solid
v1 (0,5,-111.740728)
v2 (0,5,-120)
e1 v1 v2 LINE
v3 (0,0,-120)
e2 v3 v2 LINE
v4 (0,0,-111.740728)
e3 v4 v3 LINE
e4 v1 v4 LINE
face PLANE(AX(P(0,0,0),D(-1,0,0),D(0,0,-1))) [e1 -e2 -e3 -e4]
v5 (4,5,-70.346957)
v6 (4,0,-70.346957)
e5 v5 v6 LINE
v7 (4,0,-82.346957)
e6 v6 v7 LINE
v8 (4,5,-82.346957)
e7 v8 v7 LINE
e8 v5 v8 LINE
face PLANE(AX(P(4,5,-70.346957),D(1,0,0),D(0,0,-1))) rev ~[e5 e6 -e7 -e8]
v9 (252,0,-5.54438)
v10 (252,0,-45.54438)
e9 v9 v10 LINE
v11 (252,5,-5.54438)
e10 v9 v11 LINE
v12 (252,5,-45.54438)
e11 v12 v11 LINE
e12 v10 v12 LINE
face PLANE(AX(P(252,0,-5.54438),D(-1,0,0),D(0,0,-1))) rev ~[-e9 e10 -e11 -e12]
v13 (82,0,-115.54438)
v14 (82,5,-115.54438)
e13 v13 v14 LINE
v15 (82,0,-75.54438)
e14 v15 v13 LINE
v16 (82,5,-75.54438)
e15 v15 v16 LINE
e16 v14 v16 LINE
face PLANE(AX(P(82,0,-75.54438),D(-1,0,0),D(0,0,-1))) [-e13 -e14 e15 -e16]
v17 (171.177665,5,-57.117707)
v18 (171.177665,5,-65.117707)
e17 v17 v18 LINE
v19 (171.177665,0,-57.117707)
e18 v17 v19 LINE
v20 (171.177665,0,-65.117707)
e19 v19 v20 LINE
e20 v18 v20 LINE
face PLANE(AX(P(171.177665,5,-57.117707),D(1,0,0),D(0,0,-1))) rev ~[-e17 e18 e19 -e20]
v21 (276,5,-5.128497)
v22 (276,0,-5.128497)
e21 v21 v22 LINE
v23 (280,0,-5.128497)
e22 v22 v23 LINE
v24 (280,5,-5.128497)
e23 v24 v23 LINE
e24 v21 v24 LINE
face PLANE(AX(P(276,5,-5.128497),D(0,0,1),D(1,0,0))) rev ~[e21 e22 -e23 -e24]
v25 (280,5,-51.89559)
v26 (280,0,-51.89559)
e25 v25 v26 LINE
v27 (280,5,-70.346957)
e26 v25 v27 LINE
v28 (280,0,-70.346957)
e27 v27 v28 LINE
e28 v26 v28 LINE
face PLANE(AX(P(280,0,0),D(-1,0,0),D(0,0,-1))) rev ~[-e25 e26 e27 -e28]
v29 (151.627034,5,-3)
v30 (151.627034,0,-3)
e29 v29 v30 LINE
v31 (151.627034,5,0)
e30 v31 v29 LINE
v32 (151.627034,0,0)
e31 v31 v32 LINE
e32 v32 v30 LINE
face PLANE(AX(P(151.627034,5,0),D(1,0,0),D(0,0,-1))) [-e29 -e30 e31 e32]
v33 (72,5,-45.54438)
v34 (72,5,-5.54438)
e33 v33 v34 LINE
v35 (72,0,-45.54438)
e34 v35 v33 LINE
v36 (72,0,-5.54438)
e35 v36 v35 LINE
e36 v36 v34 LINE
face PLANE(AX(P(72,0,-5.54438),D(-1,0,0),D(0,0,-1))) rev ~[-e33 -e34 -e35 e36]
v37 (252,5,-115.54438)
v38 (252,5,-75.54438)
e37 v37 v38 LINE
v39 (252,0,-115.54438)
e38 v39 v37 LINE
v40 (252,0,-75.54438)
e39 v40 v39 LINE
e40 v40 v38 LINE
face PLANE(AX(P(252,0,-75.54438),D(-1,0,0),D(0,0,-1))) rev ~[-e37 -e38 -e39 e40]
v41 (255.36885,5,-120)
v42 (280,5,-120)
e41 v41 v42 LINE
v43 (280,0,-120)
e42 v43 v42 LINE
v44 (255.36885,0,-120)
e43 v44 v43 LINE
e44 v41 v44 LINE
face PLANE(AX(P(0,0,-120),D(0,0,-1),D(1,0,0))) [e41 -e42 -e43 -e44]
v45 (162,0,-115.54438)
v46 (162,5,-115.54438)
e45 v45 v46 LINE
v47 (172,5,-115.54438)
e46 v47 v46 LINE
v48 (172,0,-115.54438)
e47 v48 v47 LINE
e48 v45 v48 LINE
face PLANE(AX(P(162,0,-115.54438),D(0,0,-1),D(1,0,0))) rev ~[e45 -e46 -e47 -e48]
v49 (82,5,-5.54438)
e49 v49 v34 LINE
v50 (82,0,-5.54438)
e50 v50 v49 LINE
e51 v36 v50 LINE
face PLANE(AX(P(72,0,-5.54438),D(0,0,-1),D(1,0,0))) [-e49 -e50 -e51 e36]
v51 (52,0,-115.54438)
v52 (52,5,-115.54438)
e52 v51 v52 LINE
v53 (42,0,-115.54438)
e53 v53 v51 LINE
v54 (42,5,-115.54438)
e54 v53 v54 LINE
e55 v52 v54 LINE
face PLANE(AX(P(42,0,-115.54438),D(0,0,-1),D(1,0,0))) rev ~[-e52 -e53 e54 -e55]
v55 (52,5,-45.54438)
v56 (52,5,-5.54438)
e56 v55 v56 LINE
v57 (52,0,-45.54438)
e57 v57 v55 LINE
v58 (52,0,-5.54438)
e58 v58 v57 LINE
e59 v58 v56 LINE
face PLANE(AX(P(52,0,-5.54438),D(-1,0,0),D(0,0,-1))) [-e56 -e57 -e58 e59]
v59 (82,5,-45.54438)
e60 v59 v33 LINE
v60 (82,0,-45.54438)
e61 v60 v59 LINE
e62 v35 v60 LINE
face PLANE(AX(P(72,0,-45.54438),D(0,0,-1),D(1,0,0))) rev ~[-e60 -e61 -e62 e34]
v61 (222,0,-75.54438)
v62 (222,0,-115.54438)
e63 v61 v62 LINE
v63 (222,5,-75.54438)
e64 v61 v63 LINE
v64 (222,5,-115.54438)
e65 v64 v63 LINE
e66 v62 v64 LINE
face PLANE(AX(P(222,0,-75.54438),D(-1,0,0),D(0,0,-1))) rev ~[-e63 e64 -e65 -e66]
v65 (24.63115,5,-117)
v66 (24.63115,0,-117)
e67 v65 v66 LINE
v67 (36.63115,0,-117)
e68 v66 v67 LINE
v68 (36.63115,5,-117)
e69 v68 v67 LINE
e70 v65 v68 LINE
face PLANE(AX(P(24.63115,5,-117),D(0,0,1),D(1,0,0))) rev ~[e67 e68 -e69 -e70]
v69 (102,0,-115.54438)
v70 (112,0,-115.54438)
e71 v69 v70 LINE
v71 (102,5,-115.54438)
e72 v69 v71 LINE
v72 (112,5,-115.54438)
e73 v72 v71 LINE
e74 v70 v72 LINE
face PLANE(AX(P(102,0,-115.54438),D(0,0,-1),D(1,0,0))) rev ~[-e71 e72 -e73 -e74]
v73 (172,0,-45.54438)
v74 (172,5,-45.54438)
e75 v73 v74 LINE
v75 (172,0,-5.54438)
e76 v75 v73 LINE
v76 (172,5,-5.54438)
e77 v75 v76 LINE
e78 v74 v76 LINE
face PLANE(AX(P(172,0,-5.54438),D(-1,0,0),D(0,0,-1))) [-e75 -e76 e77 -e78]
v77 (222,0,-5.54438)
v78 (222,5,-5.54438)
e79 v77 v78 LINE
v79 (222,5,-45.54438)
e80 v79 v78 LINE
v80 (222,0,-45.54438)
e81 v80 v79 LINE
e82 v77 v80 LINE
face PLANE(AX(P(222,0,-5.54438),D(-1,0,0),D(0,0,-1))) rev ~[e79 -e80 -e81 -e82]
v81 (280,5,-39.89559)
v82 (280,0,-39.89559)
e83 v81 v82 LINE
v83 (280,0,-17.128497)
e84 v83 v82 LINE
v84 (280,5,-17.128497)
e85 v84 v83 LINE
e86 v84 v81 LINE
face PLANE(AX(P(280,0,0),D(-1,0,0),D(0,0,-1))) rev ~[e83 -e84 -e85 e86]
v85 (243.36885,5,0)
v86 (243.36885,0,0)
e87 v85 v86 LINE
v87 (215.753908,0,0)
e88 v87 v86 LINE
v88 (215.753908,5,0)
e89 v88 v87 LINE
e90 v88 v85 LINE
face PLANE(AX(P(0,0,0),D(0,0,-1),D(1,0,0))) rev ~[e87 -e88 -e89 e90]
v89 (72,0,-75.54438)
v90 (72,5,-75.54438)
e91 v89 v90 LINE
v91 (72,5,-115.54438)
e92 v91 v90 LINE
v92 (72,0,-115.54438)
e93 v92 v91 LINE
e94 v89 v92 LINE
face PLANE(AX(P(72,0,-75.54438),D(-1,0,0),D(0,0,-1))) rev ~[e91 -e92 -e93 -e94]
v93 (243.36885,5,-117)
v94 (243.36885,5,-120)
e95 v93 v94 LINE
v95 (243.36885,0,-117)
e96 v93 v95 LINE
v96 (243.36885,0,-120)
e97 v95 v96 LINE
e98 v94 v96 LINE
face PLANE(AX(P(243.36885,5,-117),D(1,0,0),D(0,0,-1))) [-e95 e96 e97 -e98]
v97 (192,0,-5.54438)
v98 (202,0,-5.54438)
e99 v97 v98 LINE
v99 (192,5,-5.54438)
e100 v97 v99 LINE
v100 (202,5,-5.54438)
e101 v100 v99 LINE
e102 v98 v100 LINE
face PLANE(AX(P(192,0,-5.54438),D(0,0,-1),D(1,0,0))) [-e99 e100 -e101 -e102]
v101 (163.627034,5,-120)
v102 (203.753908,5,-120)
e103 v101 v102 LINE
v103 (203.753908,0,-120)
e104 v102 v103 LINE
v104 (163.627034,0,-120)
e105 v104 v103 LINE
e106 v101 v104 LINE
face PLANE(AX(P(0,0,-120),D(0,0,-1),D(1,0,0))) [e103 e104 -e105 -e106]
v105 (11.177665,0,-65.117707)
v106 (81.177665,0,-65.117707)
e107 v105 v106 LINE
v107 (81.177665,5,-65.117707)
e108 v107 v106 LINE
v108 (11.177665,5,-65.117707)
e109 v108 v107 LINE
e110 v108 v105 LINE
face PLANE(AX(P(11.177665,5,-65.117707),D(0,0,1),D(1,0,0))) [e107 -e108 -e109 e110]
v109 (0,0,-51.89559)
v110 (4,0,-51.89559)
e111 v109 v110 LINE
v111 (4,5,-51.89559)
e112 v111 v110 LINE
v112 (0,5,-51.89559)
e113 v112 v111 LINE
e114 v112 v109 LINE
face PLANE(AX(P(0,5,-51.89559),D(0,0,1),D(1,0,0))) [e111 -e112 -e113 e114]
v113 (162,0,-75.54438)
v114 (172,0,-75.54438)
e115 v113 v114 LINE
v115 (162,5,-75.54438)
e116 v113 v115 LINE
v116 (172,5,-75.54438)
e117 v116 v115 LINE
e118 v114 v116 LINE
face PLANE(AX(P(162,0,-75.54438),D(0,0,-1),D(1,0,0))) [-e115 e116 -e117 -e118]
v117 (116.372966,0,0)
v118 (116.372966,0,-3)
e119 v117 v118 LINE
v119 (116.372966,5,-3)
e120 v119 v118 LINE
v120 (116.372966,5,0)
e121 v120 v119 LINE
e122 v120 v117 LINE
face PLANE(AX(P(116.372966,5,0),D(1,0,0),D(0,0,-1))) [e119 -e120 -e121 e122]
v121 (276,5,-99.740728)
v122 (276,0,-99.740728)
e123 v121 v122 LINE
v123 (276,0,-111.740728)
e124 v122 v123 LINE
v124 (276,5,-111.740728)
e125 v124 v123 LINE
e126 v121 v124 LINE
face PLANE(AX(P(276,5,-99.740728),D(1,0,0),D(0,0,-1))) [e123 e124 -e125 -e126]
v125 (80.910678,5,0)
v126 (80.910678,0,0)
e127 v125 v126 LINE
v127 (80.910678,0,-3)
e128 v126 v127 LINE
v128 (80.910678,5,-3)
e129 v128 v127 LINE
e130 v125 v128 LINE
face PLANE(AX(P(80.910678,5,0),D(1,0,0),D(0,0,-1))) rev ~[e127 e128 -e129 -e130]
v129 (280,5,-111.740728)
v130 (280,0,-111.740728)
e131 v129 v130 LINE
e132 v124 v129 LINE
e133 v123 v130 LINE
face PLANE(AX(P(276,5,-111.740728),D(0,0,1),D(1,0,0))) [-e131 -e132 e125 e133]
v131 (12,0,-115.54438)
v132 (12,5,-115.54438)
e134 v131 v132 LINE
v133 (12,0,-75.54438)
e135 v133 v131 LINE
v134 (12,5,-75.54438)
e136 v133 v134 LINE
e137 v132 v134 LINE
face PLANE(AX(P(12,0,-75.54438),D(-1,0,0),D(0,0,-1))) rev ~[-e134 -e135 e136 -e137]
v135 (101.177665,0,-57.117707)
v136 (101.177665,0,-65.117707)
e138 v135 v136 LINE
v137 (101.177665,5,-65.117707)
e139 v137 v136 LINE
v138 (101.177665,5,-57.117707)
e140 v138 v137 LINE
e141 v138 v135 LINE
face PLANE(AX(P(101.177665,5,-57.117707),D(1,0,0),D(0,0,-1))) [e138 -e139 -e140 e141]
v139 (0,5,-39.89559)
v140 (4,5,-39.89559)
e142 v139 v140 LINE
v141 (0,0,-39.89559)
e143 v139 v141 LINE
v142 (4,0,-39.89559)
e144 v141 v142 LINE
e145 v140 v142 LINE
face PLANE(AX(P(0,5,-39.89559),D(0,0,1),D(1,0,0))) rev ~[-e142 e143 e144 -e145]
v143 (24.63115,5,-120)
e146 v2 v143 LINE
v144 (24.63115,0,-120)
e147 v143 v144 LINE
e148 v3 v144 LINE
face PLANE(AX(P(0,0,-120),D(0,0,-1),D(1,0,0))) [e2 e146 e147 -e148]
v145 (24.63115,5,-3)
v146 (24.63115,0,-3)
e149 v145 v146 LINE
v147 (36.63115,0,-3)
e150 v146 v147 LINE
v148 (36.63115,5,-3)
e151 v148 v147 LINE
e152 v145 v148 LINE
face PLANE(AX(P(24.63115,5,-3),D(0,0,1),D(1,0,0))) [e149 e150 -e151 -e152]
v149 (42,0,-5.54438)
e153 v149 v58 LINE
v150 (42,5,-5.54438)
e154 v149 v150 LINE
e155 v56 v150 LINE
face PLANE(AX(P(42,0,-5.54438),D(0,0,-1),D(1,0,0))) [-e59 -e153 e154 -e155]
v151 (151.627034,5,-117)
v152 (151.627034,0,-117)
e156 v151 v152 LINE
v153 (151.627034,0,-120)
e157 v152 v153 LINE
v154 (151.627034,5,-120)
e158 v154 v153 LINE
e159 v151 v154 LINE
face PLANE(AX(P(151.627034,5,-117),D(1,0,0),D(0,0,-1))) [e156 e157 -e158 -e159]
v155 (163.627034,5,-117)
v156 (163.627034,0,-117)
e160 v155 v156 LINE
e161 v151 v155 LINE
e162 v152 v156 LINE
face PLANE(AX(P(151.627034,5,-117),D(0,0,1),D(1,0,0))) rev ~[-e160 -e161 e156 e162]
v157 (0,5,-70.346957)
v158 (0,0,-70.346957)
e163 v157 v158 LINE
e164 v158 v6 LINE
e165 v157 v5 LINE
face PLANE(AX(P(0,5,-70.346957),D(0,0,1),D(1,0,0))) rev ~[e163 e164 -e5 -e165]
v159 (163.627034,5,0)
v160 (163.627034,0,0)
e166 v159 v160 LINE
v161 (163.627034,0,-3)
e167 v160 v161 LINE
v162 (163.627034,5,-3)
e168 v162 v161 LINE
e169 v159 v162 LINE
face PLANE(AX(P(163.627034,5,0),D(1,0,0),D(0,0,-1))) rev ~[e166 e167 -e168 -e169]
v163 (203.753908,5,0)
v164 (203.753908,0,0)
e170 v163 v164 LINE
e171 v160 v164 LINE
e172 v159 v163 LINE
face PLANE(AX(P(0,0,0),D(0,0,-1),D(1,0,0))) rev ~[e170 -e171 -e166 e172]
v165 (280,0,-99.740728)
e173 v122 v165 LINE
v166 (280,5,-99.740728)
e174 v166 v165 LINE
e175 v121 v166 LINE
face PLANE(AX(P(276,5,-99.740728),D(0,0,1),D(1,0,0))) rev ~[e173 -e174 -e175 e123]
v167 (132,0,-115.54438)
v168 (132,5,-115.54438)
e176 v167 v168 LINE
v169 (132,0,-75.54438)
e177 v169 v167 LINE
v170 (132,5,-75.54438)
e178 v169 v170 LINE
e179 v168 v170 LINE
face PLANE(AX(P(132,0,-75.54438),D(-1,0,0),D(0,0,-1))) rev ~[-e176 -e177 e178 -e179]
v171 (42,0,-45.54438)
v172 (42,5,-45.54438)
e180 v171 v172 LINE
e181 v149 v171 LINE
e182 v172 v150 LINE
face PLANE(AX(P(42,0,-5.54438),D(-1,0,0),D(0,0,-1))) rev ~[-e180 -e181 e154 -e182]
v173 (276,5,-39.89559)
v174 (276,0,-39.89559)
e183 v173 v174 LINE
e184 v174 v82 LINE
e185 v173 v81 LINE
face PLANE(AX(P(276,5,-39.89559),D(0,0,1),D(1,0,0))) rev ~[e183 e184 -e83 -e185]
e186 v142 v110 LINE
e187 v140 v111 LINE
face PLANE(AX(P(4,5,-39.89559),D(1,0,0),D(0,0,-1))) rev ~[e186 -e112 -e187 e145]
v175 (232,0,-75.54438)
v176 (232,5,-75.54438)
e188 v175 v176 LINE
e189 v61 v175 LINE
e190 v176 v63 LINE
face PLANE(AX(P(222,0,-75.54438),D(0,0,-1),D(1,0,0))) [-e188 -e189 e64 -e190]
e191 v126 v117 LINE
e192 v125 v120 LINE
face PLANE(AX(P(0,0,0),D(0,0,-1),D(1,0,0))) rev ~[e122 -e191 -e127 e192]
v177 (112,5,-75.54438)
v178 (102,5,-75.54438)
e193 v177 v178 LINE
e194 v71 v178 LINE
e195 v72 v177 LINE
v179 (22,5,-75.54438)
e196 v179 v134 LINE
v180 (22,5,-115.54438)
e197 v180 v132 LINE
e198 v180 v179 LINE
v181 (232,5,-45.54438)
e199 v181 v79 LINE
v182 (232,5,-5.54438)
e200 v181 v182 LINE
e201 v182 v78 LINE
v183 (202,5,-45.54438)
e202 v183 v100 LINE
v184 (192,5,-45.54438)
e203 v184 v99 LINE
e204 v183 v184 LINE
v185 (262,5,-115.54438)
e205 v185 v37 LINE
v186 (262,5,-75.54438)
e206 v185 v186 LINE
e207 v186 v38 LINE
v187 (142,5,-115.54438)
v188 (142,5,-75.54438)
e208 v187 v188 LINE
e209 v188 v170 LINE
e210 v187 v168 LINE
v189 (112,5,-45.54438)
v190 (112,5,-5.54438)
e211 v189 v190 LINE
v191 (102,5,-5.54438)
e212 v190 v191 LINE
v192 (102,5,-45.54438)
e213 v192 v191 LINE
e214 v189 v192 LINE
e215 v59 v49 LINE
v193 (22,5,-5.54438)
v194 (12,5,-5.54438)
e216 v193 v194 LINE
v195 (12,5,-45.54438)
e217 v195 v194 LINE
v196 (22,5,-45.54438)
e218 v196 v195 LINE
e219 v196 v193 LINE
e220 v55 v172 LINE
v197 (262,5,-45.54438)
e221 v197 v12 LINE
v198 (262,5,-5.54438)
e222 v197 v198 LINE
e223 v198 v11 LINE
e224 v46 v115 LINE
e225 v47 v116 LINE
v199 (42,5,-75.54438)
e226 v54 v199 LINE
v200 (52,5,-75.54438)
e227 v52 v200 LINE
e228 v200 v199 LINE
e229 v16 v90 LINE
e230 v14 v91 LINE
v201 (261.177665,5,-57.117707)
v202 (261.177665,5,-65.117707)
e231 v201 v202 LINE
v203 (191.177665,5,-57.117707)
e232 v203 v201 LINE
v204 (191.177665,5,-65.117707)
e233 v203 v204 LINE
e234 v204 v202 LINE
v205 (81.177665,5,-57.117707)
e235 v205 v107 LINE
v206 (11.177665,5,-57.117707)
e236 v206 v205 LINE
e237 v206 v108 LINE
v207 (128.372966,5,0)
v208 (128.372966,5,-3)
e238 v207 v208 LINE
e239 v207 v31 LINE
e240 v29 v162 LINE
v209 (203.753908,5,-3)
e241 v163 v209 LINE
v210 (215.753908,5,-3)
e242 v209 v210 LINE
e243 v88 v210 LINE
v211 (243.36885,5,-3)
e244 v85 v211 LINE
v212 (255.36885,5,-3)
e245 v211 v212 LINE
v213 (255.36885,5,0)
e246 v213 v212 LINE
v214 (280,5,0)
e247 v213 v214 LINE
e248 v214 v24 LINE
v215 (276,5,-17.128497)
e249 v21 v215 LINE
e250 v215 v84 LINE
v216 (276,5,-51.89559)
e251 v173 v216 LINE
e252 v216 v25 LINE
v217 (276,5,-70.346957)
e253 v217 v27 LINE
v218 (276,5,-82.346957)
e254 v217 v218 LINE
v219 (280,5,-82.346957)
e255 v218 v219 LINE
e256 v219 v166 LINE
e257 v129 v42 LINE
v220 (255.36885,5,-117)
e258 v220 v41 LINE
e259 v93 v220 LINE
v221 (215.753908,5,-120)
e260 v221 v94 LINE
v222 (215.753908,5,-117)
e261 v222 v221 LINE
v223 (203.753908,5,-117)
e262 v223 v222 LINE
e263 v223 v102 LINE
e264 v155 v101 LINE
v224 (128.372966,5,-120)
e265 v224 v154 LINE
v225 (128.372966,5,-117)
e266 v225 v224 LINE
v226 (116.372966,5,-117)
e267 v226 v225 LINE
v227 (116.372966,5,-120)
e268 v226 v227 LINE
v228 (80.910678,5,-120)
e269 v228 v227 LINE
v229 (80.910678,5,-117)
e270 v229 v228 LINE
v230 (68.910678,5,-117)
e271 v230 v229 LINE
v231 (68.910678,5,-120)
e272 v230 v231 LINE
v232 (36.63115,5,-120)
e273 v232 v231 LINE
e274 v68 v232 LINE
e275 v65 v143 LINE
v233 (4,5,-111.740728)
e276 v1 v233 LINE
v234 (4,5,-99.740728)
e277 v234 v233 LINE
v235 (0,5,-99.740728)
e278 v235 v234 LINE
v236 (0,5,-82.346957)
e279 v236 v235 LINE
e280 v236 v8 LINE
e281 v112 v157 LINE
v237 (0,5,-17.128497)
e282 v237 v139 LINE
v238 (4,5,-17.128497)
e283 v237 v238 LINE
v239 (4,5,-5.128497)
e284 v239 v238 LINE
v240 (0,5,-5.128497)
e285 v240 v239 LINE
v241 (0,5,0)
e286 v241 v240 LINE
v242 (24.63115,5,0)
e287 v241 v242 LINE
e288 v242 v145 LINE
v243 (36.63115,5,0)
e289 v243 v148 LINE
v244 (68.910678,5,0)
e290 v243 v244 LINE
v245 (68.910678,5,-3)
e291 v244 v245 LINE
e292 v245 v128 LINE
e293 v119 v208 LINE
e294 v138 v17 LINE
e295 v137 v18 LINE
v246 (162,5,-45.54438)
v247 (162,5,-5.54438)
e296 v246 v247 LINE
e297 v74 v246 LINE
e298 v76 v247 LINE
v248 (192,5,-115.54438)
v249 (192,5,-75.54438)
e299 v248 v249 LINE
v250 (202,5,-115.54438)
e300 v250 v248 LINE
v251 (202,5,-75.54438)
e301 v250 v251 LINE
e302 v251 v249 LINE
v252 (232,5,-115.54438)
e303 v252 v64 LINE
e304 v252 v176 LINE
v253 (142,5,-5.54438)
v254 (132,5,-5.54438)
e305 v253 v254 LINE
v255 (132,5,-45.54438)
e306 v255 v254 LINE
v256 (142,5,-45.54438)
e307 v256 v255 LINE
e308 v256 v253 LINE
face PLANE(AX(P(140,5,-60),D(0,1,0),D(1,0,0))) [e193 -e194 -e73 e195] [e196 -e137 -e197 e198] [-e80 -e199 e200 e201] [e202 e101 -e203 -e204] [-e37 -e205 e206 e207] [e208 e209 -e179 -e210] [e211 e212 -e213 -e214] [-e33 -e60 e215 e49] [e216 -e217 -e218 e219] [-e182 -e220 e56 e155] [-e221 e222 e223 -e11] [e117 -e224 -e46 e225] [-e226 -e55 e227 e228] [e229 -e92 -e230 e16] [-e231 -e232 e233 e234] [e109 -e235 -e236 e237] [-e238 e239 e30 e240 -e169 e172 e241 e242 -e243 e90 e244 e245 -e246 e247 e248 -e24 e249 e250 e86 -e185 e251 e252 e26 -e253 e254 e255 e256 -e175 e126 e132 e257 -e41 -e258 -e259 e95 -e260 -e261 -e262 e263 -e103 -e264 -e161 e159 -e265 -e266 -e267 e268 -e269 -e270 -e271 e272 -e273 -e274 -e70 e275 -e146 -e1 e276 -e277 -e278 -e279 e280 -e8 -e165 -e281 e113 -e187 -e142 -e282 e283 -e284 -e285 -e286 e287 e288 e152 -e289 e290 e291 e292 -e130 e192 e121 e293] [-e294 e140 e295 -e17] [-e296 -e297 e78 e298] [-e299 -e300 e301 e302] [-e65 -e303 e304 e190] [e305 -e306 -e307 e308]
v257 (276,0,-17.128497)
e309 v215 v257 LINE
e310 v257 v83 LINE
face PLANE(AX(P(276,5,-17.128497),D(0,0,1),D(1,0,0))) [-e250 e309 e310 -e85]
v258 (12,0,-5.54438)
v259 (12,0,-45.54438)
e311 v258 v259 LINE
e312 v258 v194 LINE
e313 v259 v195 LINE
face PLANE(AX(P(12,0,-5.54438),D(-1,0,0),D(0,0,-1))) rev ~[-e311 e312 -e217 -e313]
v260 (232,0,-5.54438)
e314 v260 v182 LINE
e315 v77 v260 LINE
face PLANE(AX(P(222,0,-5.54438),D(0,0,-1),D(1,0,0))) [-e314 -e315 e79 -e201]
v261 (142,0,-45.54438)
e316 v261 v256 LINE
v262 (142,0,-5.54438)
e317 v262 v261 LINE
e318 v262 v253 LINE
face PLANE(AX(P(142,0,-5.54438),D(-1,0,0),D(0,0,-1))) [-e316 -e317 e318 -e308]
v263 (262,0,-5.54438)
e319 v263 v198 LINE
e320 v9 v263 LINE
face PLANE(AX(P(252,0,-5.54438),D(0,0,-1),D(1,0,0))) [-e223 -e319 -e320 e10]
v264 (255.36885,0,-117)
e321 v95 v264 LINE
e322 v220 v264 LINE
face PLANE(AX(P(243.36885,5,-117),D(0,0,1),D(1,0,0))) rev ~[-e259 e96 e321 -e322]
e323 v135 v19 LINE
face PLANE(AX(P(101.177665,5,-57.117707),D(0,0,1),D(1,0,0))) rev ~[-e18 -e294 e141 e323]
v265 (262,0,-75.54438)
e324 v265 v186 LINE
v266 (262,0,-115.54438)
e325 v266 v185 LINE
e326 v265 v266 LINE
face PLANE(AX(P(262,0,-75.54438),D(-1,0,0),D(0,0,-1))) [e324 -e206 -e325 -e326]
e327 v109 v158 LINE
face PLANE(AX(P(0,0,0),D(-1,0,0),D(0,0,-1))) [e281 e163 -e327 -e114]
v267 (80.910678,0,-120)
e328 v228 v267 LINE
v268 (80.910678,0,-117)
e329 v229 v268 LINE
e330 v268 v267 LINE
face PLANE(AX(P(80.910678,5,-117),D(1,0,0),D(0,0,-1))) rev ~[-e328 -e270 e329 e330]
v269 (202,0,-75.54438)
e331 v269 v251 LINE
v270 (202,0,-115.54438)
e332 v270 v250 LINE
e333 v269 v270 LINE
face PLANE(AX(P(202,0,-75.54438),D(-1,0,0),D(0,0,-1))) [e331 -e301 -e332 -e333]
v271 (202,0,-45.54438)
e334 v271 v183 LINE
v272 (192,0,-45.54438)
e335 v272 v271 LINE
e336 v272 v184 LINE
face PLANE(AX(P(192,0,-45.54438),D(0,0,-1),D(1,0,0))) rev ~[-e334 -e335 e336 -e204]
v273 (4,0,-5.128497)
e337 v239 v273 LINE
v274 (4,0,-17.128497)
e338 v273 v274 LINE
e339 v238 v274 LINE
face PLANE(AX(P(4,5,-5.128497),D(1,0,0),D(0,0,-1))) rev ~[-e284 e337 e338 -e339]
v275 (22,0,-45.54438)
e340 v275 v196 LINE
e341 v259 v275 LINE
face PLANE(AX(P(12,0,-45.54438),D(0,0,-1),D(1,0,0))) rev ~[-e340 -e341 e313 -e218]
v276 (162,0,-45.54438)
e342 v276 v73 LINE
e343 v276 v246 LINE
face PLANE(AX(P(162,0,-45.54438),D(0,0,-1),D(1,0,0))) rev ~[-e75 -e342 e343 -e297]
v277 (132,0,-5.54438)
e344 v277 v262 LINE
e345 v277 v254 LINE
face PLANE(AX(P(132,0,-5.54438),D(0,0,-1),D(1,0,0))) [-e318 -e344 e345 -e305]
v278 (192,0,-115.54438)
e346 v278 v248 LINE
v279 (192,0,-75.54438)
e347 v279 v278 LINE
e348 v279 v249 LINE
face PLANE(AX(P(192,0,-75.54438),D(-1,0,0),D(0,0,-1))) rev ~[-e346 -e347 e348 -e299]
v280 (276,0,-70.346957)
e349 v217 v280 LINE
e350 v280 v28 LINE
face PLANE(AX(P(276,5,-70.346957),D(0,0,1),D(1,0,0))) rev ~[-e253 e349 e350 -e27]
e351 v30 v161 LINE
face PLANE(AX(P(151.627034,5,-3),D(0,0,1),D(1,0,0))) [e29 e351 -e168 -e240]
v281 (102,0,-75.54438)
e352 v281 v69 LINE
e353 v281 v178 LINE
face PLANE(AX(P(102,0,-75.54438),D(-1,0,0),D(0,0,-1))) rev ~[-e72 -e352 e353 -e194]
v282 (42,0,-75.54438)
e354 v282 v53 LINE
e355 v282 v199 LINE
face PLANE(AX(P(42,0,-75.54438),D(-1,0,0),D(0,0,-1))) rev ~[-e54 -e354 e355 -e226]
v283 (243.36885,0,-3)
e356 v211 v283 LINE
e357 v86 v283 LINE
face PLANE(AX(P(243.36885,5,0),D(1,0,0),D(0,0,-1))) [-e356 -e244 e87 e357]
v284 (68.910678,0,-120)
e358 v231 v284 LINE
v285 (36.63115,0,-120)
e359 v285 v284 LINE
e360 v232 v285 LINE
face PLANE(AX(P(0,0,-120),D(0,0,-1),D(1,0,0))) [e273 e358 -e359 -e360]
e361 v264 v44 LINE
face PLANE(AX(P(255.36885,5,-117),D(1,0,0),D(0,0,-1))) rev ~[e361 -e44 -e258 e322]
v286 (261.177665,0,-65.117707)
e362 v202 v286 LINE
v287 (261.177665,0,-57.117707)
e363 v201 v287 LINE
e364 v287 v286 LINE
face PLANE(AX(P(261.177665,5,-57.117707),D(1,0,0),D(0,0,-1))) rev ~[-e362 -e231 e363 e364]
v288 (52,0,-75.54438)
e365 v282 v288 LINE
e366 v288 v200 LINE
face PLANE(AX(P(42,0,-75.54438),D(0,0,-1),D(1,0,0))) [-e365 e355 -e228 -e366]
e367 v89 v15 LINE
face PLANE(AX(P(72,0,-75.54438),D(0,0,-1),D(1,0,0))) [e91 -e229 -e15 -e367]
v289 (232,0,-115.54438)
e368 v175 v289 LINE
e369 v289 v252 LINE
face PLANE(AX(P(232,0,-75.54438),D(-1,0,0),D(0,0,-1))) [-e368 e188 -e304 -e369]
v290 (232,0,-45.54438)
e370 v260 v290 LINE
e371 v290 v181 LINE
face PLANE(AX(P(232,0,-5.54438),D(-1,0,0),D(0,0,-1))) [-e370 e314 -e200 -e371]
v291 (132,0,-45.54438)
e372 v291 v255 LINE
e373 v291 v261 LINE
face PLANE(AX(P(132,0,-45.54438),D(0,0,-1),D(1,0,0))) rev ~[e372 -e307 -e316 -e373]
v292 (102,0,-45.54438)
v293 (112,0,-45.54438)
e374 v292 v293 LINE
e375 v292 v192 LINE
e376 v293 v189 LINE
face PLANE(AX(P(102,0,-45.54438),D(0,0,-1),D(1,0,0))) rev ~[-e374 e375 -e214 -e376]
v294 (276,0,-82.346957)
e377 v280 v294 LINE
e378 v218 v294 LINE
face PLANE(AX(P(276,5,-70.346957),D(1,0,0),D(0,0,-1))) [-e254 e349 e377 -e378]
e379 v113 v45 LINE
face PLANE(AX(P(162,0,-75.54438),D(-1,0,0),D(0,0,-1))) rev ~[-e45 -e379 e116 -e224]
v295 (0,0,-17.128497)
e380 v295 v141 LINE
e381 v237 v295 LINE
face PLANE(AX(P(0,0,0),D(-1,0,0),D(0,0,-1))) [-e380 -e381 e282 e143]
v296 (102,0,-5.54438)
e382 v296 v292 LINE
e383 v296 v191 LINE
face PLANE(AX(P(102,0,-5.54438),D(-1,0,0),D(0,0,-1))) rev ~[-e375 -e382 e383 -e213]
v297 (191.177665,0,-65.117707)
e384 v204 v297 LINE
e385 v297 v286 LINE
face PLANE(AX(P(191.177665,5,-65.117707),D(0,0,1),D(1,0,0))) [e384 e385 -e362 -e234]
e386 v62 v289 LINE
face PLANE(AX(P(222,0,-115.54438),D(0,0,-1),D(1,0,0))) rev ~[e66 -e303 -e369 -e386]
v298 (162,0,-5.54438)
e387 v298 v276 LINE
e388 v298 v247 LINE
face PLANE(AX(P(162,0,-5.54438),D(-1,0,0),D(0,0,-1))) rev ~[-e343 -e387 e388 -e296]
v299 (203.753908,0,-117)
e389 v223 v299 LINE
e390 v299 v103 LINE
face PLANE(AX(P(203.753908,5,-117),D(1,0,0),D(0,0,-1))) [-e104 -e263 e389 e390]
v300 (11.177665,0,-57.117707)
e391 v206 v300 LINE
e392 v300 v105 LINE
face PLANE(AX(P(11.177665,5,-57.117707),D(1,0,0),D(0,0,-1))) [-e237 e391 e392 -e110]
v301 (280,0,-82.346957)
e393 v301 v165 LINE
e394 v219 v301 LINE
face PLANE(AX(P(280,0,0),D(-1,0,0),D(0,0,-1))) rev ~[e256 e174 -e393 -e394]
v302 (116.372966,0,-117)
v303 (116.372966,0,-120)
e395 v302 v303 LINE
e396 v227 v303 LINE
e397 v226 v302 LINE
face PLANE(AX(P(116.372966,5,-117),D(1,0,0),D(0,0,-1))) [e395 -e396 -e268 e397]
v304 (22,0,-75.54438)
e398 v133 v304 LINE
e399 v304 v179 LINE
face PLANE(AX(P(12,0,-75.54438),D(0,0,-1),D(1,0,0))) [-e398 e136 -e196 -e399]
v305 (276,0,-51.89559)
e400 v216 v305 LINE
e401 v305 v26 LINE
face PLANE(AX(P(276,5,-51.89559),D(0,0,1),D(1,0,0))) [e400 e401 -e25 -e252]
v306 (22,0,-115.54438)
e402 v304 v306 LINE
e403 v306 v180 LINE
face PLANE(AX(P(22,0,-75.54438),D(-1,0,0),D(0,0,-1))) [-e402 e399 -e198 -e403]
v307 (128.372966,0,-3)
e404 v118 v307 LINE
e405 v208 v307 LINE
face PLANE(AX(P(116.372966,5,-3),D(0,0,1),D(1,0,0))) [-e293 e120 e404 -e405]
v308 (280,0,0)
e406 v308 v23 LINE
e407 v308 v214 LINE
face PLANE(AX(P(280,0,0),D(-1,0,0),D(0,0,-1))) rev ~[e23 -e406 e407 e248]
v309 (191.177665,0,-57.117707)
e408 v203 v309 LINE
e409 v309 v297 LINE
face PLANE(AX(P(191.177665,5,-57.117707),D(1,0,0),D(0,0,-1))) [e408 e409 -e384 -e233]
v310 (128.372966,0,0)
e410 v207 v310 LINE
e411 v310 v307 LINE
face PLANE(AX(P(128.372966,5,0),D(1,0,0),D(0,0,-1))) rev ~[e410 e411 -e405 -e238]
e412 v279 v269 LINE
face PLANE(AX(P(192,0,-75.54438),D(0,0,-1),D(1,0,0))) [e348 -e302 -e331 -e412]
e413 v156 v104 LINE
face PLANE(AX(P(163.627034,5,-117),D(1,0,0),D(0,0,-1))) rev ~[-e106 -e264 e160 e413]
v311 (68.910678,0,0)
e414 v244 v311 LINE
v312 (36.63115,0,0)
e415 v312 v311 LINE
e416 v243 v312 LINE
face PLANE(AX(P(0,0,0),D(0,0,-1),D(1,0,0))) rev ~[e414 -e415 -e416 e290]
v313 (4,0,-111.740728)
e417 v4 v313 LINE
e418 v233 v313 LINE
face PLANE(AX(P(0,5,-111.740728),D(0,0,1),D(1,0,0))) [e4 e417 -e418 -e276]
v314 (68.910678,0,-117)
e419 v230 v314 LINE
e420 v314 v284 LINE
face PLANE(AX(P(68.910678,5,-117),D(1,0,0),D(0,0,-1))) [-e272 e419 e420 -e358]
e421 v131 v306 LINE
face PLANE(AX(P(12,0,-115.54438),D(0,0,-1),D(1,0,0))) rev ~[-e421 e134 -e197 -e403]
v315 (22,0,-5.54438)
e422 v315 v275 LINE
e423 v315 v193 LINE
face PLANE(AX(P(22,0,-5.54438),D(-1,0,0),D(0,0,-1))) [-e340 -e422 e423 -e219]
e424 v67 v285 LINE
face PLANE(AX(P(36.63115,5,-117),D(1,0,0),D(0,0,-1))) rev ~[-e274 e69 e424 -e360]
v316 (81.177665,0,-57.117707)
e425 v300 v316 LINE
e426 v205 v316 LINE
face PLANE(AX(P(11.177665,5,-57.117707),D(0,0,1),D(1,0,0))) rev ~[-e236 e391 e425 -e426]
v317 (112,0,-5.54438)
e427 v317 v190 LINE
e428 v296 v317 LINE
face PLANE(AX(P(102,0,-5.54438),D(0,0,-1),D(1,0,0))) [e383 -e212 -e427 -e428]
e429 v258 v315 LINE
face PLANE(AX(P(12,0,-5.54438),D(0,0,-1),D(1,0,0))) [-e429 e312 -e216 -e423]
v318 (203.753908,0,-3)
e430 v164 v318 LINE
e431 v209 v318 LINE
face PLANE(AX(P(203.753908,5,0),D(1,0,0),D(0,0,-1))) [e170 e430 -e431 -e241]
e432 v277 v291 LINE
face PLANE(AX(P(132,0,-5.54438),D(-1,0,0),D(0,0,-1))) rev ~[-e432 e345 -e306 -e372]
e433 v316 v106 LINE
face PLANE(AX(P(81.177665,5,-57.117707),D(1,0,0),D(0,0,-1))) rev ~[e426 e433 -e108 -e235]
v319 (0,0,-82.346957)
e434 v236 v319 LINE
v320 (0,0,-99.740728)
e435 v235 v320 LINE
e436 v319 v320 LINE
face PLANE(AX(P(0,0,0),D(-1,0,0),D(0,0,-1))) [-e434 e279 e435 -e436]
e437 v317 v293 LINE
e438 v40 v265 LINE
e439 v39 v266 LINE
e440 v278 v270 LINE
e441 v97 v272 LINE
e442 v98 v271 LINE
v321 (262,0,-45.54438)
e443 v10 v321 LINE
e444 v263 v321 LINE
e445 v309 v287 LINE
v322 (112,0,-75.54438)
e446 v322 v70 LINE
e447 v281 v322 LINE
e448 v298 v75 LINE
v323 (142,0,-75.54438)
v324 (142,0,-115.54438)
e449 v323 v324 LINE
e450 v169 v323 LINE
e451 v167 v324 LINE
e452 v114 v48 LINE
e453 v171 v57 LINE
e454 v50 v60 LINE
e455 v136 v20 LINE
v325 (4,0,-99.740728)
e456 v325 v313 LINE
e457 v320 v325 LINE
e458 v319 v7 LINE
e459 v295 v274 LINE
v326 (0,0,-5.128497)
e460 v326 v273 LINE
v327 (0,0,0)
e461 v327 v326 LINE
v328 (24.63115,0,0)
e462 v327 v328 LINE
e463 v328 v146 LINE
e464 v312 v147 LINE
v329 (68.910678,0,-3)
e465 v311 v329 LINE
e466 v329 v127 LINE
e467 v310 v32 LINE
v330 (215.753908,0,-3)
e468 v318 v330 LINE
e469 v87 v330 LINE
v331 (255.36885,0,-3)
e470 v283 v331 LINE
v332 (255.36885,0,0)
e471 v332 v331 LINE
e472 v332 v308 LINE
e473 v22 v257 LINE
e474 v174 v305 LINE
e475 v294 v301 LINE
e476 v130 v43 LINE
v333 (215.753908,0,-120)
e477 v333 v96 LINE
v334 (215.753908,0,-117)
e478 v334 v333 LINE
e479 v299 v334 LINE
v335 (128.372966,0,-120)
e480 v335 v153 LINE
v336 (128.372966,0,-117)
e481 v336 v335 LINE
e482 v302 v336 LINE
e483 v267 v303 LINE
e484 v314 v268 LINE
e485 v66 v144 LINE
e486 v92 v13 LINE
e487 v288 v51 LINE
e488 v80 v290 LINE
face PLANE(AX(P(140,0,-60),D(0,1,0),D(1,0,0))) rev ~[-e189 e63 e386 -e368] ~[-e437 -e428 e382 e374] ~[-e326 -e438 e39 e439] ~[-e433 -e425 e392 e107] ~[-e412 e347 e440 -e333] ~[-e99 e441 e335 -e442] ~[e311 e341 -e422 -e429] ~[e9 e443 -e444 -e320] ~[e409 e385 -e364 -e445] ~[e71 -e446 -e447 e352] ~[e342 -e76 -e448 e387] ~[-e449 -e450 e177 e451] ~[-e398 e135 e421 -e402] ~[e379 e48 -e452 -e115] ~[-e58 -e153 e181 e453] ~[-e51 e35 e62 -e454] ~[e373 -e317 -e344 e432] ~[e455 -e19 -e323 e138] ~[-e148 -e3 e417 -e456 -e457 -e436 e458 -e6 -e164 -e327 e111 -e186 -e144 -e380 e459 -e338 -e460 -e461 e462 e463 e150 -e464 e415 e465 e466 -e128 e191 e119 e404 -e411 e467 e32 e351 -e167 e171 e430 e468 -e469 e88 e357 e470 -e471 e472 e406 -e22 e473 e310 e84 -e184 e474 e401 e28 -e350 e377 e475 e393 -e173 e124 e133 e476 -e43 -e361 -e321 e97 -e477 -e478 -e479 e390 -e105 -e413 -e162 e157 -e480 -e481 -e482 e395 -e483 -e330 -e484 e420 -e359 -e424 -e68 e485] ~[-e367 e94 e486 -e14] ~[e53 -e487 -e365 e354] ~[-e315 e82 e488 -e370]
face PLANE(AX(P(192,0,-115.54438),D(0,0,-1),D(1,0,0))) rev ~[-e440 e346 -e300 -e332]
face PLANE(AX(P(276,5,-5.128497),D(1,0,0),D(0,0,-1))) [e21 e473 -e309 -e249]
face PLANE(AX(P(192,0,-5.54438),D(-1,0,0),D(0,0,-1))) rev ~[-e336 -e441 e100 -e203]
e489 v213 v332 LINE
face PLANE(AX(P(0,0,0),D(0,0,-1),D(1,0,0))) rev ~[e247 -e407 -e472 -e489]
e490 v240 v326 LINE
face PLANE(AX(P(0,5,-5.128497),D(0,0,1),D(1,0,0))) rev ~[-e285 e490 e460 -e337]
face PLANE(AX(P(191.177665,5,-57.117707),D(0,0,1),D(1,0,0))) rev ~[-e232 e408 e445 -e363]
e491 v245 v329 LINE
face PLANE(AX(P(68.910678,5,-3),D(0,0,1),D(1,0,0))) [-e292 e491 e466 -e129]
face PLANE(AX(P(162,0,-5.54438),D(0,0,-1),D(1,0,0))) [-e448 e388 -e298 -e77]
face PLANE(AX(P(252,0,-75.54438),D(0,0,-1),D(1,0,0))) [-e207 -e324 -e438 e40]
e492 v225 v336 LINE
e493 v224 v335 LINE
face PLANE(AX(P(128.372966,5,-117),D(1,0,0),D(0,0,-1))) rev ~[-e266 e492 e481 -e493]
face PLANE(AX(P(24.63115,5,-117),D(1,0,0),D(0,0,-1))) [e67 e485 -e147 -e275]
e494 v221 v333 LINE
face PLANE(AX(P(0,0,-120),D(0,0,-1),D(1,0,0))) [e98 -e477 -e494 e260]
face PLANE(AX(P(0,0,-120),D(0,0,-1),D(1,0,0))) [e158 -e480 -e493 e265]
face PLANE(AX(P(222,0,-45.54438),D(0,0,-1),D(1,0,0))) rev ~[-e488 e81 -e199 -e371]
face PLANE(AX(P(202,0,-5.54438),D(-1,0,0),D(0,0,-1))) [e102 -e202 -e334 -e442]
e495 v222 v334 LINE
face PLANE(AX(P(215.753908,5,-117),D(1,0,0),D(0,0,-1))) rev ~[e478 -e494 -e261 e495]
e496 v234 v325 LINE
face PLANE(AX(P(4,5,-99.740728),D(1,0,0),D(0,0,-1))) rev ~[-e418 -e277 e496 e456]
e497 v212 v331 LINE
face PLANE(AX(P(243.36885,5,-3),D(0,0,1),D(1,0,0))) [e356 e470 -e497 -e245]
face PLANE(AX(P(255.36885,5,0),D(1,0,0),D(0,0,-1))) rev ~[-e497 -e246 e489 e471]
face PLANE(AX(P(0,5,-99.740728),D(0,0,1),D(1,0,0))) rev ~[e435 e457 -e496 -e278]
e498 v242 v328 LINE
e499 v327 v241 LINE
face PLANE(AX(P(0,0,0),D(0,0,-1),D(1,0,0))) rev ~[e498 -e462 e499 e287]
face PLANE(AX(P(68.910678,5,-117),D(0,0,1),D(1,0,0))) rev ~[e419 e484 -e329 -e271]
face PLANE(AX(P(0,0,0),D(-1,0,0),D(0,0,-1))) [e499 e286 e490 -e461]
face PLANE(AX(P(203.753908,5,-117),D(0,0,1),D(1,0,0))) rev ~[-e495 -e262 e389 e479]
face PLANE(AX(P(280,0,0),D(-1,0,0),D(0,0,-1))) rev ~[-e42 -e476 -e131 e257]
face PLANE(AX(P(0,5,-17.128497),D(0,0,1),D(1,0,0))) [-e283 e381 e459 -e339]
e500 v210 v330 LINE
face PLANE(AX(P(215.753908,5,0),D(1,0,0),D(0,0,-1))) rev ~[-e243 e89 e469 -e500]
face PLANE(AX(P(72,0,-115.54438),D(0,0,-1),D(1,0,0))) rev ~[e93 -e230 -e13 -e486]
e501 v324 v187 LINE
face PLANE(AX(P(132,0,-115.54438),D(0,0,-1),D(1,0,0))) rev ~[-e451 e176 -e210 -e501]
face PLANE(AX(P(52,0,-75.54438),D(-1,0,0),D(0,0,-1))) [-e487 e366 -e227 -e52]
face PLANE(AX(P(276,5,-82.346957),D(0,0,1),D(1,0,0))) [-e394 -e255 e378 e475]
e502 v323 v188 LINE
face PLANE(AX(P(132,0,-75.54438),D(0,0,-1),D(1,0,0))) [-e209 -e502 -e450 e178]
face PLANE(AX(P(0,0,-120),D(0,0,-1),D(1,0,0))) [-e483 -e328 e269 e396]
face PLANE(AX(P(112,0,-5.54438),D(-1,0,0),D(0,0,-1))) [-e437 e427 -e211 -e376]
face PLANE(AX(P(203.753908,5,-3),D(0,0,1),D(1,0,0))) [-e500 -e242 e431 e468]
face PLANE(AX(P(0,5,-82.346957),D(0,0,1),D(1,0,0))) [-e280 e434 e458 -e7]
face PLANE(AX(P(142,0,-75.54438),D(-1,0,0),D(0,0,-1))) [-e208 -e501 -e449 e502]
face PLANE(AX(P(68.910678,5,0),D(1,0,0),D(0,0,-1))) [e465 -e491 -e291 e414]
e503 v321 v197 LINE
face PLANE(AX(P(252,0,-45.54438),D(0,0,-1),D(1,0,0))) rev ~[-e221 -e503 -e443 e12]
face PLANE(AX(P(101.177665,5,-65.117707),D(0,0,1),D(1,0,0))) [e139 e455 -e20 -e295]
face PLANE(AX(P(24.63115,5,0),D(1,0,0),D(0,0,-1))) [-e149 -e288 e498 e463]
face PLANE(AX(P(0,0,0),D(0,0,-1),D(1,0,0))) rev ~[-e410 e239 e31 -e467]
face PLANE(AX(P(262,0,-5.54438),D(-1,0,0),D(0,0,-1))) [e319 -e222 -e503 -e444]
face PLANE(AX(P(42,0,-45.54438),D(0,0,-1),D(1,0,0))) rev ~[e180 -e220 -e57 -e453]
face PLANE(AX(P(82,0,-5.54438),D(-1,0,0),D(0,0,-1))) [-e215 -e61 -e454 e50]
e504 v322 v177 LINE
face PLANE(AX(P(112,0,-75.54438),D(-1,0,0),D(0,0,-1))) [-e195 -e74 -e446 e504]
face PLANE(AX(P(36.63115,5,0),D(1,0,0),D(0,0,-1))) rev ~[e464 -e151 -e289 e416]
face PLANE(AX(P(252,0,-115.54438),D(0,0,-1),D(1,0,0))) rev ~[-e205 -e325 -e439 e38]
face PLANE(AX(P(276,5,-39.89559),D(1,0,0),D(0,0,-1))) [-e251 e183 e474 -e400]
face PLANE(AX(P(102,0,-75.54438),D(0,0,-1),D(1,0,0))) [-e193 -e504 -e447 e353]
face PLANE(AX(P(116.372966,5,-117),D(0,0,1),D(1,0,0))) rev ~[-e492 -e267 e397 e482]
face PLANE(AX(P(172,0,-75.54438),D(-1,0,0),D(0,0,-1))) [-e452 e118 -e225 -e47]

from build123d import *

# Parameters (mm, degrees)
SKETCH1_W           = 280
SKETCH1_H           = 120
BOSS_EXTRUDE1_DEPTH = 5
SKETCH1_3_W         = 10
SKETCH1_3_H         = 40
CUT_EXTRUDE1_DEPTH  = 134
SKETCH1_4_W         = 10
SKETCH1_4_H         = 40
CUT_EXTRUDE2_DEPTH  = 229
SKETCH4_W           = 70
SKETCH4_H           = 8
CUT_EXTRUDE4_DEPTH  = 229
SKETCH3_W           = 4
SKETCH3_H           = 12
SKETCH3_W_2         = 12
SKETCH3_H_2         = 3
CUT_EXTRUDE5_DEPTH  = 10


with BuildPart() as part:
    # Sketch1 → Boss-Extrude1 (new body)
    with BuildSketch(Plane(origin=(0, 0, 0), x_dir=(1, 0, 0), z_dir=(0, 1, 0))):
        with Locations((140, 60)):
            Rectangle(SKETCH1_W, SKETCH1_H)
    extrude(amount=BOSS_EXTRUDE1_DEPTH)

    # Sketch1<3> → Cut-Extrude1 (cut)
    with BuildSketch(Plane(origin=(0, 0, 0), x_dir=(1, 0, 0), z_dir=(0, 1, 0))):
        with Locations((227, 95.54438009)):
            Rectangle(SKETCH1_3_W, SKETCH1_3_H)
        with Locations((227, 25.54438009)):
            Rectangle(SKETCH1_3_W, SKETCH1_3_H)
        with Locations((197, 25.54438009)):
            Rectangle(SKETCH1_3_W, SKETCH1_3_H)
        with Locations((167, 25.54438009)):
            Rectangle(SKETCH1_3_W, SKETCH1_3_H)
        with Locations((167, 95.54438009)):
            Rectangle(SKETCH1_3_W, SKETCH1_3_H)
        with Locations((137, 95.54438009)):
            Rectangle(SKETCH1_3_W, SKETCH1_3_H)
        with Locations((107, 95.54438009)):
            Rectangle(SKETCH1_3_W, SKETCH1_3_H)
        with Locations((107, 25.54438009)):
            Rectangle(SKETCH1_3_W, SKETCH1_3_H)
        with Locations((77, 25.54438009)):
            Rectangle(SKETCH1_3_W, SKETCH1_3_H)
        with Locations((47, 95.54438009)):
            Rectangle(SKETCH1_3_W, SKETCH1_3_H)
        with Locations((47, 25.54438009)):
            Rectangle(SKETCH1_3_W, SKETCH1_3_H)
        with Locations((257, 95.54438009)):
            Rectangle(SKETCH1_3_W, SKETCH1_3_H)
        with Locations((257, 25.54438009)):
            Rectangle(SKETCH1_3_W, SKETCH1_3_H)
        with Locations((197, 95.54438009)):
            Rectangle(SKETCH1_3_W, SKETCH1_3_H)
        with Locations((137, 25.54438009)):
            Rectangle(SKETCH1_3_W, SKETCH1_3_H)
        with Locations((77, 95.54438009)):
            Rectangle(SKETCH1_3_W, SKETCH1_3_H)
        with Locations((17, 25.54438009)):
            Rectangle(SKETCH1_3_W, SKETCH1_3_H)
    extrude(amount=CUT_EXTRUDE1_DEPTH, mode=Mode.SUBTRACT)

    # Sketch1<4> → Cut-Extrude2 (cut)
    with BuildSketch(Plane(origin=(0, 0, 0), x_dir=(1, 0, 0), z_dir=(0, 1, 0))):
        with Locations((17, 95.54438009)):
            Rectangle(SKETCH1_4_W, SKETCH1_4_H)
    extrude(amount=CUT_EXTRUDE2_DEPTH, mode=Mode.SUBTRACT)

    # Sketch4 → Cut-Extrude4 (cut)
    with BuildSketch(Plane(origin=(0, 5, 0), x_dir=(1, 0, 0), z_dir=(0, 1, 0))):
        with Locations((136.177664652, 61.117706899)):
            Rectangle(SKETCH4_W, SKETCH4_H)
        with Locations((46.177664652, 61.117706899)):
            Rectangle(SKETCH4_W, SKETCH4_H)
        with Locations((226.177664652, 61.117706899)):
            Rectangle(SKETCH4_W, SKETCH4_H)
    extrude(amount=-CUT_EXTRUDE4_DEPTH, mode=Mode.SUBTRACT)

    # Sketch3 → Cut-Extrude5 (cut)
    with BuildSketch(Plane(origin=(0, 5, 0), x_dir=(1, 0, 0), z_dir=(0, 1, 0))):
        with Locations((278, 11.128497482)):
            Rectangle(SKETCH3_W, SKETCH3_H)
        with Locations((30.63115044, 1.5)):
            Rectangle(SKETCH3_W_2, SKETCH3_H_2)
        with Locations((74.910678106, 1.5)):
            Rectangle(SKETCH3_W_2, SKETCH3_H_2)
        with Locations((122.372965913, 1.5)):
            Rectangle(SKETCH3_W_2, SKETCH3_H_2)
        with Locations((157.627034087, 1.5)):
            Rectangle(SKETCH3_W_2, SKETCH3_H_2)
        with Locations((209.75390842, 1.5)):
            Rectangle(SKETCH3_W_2, SKETCH3_H_2)
        with Locations((249.36884956, 1.5)):
            Rectangle(SKETCH3_W_2, SKETCH3_H_2)
        with Locations((278, 45.895590182)):
            Rectangle(SKETCH3_W, SKETCH3_H)
        with Locations((278, 105.740728373)):
            Rectangle(SKETCH3_W, SKETCH3_H)
        with Locations((278, 76.34695717)):
            Rectangle(SKETCH3_W, SKETCH3_H)
        with Locations((249.36884956, 118.5)):
            Rectangle(SKETCH3_W_2, SKETCH3_H_2)
        with Locations((209.75390842, 118.5)):
            Rectangle(SKETCH3_W_2, SKETCH3_H_2)
        with Locations((157.627034087, 118.5)):
            Rectangle(SKETCH3_W_2, SKETCH3_H_2)
        with Locations((122.372965913, 118.5)):
            Rectangle(SKETCH3_W_2, SKETCH3_H_2)
        with Locations((74.910678106, 118.5)):
            Rectangle(SKETCH3_W_2, SKETCH3_H_2)
        with Locations((30.63115044, 118.5)):
            Rectangle(SKETCH3_W_2, SKETCH3_H_2)
        with Locations((2, 105.740728373)):
            Rectangle(SKETCH3_W, SKETCH3_H)
        with Locations((2, 76.34695717)):
            Rectangle(SKETCH3_W, SKETCH3_H)
        with Locations((2, 45.895590182)):
            Rectangle(SKETCH3_W, SKETCH3_H)
        with Locations((2, 11.128497482)):
            Rectangle(SKETCH3_W, SKETCH3_H)
    extrude(amount=-CUT_EXTRUDE5_DEPTH, mode=Mode.SUBTRACT)


solid = part.part
